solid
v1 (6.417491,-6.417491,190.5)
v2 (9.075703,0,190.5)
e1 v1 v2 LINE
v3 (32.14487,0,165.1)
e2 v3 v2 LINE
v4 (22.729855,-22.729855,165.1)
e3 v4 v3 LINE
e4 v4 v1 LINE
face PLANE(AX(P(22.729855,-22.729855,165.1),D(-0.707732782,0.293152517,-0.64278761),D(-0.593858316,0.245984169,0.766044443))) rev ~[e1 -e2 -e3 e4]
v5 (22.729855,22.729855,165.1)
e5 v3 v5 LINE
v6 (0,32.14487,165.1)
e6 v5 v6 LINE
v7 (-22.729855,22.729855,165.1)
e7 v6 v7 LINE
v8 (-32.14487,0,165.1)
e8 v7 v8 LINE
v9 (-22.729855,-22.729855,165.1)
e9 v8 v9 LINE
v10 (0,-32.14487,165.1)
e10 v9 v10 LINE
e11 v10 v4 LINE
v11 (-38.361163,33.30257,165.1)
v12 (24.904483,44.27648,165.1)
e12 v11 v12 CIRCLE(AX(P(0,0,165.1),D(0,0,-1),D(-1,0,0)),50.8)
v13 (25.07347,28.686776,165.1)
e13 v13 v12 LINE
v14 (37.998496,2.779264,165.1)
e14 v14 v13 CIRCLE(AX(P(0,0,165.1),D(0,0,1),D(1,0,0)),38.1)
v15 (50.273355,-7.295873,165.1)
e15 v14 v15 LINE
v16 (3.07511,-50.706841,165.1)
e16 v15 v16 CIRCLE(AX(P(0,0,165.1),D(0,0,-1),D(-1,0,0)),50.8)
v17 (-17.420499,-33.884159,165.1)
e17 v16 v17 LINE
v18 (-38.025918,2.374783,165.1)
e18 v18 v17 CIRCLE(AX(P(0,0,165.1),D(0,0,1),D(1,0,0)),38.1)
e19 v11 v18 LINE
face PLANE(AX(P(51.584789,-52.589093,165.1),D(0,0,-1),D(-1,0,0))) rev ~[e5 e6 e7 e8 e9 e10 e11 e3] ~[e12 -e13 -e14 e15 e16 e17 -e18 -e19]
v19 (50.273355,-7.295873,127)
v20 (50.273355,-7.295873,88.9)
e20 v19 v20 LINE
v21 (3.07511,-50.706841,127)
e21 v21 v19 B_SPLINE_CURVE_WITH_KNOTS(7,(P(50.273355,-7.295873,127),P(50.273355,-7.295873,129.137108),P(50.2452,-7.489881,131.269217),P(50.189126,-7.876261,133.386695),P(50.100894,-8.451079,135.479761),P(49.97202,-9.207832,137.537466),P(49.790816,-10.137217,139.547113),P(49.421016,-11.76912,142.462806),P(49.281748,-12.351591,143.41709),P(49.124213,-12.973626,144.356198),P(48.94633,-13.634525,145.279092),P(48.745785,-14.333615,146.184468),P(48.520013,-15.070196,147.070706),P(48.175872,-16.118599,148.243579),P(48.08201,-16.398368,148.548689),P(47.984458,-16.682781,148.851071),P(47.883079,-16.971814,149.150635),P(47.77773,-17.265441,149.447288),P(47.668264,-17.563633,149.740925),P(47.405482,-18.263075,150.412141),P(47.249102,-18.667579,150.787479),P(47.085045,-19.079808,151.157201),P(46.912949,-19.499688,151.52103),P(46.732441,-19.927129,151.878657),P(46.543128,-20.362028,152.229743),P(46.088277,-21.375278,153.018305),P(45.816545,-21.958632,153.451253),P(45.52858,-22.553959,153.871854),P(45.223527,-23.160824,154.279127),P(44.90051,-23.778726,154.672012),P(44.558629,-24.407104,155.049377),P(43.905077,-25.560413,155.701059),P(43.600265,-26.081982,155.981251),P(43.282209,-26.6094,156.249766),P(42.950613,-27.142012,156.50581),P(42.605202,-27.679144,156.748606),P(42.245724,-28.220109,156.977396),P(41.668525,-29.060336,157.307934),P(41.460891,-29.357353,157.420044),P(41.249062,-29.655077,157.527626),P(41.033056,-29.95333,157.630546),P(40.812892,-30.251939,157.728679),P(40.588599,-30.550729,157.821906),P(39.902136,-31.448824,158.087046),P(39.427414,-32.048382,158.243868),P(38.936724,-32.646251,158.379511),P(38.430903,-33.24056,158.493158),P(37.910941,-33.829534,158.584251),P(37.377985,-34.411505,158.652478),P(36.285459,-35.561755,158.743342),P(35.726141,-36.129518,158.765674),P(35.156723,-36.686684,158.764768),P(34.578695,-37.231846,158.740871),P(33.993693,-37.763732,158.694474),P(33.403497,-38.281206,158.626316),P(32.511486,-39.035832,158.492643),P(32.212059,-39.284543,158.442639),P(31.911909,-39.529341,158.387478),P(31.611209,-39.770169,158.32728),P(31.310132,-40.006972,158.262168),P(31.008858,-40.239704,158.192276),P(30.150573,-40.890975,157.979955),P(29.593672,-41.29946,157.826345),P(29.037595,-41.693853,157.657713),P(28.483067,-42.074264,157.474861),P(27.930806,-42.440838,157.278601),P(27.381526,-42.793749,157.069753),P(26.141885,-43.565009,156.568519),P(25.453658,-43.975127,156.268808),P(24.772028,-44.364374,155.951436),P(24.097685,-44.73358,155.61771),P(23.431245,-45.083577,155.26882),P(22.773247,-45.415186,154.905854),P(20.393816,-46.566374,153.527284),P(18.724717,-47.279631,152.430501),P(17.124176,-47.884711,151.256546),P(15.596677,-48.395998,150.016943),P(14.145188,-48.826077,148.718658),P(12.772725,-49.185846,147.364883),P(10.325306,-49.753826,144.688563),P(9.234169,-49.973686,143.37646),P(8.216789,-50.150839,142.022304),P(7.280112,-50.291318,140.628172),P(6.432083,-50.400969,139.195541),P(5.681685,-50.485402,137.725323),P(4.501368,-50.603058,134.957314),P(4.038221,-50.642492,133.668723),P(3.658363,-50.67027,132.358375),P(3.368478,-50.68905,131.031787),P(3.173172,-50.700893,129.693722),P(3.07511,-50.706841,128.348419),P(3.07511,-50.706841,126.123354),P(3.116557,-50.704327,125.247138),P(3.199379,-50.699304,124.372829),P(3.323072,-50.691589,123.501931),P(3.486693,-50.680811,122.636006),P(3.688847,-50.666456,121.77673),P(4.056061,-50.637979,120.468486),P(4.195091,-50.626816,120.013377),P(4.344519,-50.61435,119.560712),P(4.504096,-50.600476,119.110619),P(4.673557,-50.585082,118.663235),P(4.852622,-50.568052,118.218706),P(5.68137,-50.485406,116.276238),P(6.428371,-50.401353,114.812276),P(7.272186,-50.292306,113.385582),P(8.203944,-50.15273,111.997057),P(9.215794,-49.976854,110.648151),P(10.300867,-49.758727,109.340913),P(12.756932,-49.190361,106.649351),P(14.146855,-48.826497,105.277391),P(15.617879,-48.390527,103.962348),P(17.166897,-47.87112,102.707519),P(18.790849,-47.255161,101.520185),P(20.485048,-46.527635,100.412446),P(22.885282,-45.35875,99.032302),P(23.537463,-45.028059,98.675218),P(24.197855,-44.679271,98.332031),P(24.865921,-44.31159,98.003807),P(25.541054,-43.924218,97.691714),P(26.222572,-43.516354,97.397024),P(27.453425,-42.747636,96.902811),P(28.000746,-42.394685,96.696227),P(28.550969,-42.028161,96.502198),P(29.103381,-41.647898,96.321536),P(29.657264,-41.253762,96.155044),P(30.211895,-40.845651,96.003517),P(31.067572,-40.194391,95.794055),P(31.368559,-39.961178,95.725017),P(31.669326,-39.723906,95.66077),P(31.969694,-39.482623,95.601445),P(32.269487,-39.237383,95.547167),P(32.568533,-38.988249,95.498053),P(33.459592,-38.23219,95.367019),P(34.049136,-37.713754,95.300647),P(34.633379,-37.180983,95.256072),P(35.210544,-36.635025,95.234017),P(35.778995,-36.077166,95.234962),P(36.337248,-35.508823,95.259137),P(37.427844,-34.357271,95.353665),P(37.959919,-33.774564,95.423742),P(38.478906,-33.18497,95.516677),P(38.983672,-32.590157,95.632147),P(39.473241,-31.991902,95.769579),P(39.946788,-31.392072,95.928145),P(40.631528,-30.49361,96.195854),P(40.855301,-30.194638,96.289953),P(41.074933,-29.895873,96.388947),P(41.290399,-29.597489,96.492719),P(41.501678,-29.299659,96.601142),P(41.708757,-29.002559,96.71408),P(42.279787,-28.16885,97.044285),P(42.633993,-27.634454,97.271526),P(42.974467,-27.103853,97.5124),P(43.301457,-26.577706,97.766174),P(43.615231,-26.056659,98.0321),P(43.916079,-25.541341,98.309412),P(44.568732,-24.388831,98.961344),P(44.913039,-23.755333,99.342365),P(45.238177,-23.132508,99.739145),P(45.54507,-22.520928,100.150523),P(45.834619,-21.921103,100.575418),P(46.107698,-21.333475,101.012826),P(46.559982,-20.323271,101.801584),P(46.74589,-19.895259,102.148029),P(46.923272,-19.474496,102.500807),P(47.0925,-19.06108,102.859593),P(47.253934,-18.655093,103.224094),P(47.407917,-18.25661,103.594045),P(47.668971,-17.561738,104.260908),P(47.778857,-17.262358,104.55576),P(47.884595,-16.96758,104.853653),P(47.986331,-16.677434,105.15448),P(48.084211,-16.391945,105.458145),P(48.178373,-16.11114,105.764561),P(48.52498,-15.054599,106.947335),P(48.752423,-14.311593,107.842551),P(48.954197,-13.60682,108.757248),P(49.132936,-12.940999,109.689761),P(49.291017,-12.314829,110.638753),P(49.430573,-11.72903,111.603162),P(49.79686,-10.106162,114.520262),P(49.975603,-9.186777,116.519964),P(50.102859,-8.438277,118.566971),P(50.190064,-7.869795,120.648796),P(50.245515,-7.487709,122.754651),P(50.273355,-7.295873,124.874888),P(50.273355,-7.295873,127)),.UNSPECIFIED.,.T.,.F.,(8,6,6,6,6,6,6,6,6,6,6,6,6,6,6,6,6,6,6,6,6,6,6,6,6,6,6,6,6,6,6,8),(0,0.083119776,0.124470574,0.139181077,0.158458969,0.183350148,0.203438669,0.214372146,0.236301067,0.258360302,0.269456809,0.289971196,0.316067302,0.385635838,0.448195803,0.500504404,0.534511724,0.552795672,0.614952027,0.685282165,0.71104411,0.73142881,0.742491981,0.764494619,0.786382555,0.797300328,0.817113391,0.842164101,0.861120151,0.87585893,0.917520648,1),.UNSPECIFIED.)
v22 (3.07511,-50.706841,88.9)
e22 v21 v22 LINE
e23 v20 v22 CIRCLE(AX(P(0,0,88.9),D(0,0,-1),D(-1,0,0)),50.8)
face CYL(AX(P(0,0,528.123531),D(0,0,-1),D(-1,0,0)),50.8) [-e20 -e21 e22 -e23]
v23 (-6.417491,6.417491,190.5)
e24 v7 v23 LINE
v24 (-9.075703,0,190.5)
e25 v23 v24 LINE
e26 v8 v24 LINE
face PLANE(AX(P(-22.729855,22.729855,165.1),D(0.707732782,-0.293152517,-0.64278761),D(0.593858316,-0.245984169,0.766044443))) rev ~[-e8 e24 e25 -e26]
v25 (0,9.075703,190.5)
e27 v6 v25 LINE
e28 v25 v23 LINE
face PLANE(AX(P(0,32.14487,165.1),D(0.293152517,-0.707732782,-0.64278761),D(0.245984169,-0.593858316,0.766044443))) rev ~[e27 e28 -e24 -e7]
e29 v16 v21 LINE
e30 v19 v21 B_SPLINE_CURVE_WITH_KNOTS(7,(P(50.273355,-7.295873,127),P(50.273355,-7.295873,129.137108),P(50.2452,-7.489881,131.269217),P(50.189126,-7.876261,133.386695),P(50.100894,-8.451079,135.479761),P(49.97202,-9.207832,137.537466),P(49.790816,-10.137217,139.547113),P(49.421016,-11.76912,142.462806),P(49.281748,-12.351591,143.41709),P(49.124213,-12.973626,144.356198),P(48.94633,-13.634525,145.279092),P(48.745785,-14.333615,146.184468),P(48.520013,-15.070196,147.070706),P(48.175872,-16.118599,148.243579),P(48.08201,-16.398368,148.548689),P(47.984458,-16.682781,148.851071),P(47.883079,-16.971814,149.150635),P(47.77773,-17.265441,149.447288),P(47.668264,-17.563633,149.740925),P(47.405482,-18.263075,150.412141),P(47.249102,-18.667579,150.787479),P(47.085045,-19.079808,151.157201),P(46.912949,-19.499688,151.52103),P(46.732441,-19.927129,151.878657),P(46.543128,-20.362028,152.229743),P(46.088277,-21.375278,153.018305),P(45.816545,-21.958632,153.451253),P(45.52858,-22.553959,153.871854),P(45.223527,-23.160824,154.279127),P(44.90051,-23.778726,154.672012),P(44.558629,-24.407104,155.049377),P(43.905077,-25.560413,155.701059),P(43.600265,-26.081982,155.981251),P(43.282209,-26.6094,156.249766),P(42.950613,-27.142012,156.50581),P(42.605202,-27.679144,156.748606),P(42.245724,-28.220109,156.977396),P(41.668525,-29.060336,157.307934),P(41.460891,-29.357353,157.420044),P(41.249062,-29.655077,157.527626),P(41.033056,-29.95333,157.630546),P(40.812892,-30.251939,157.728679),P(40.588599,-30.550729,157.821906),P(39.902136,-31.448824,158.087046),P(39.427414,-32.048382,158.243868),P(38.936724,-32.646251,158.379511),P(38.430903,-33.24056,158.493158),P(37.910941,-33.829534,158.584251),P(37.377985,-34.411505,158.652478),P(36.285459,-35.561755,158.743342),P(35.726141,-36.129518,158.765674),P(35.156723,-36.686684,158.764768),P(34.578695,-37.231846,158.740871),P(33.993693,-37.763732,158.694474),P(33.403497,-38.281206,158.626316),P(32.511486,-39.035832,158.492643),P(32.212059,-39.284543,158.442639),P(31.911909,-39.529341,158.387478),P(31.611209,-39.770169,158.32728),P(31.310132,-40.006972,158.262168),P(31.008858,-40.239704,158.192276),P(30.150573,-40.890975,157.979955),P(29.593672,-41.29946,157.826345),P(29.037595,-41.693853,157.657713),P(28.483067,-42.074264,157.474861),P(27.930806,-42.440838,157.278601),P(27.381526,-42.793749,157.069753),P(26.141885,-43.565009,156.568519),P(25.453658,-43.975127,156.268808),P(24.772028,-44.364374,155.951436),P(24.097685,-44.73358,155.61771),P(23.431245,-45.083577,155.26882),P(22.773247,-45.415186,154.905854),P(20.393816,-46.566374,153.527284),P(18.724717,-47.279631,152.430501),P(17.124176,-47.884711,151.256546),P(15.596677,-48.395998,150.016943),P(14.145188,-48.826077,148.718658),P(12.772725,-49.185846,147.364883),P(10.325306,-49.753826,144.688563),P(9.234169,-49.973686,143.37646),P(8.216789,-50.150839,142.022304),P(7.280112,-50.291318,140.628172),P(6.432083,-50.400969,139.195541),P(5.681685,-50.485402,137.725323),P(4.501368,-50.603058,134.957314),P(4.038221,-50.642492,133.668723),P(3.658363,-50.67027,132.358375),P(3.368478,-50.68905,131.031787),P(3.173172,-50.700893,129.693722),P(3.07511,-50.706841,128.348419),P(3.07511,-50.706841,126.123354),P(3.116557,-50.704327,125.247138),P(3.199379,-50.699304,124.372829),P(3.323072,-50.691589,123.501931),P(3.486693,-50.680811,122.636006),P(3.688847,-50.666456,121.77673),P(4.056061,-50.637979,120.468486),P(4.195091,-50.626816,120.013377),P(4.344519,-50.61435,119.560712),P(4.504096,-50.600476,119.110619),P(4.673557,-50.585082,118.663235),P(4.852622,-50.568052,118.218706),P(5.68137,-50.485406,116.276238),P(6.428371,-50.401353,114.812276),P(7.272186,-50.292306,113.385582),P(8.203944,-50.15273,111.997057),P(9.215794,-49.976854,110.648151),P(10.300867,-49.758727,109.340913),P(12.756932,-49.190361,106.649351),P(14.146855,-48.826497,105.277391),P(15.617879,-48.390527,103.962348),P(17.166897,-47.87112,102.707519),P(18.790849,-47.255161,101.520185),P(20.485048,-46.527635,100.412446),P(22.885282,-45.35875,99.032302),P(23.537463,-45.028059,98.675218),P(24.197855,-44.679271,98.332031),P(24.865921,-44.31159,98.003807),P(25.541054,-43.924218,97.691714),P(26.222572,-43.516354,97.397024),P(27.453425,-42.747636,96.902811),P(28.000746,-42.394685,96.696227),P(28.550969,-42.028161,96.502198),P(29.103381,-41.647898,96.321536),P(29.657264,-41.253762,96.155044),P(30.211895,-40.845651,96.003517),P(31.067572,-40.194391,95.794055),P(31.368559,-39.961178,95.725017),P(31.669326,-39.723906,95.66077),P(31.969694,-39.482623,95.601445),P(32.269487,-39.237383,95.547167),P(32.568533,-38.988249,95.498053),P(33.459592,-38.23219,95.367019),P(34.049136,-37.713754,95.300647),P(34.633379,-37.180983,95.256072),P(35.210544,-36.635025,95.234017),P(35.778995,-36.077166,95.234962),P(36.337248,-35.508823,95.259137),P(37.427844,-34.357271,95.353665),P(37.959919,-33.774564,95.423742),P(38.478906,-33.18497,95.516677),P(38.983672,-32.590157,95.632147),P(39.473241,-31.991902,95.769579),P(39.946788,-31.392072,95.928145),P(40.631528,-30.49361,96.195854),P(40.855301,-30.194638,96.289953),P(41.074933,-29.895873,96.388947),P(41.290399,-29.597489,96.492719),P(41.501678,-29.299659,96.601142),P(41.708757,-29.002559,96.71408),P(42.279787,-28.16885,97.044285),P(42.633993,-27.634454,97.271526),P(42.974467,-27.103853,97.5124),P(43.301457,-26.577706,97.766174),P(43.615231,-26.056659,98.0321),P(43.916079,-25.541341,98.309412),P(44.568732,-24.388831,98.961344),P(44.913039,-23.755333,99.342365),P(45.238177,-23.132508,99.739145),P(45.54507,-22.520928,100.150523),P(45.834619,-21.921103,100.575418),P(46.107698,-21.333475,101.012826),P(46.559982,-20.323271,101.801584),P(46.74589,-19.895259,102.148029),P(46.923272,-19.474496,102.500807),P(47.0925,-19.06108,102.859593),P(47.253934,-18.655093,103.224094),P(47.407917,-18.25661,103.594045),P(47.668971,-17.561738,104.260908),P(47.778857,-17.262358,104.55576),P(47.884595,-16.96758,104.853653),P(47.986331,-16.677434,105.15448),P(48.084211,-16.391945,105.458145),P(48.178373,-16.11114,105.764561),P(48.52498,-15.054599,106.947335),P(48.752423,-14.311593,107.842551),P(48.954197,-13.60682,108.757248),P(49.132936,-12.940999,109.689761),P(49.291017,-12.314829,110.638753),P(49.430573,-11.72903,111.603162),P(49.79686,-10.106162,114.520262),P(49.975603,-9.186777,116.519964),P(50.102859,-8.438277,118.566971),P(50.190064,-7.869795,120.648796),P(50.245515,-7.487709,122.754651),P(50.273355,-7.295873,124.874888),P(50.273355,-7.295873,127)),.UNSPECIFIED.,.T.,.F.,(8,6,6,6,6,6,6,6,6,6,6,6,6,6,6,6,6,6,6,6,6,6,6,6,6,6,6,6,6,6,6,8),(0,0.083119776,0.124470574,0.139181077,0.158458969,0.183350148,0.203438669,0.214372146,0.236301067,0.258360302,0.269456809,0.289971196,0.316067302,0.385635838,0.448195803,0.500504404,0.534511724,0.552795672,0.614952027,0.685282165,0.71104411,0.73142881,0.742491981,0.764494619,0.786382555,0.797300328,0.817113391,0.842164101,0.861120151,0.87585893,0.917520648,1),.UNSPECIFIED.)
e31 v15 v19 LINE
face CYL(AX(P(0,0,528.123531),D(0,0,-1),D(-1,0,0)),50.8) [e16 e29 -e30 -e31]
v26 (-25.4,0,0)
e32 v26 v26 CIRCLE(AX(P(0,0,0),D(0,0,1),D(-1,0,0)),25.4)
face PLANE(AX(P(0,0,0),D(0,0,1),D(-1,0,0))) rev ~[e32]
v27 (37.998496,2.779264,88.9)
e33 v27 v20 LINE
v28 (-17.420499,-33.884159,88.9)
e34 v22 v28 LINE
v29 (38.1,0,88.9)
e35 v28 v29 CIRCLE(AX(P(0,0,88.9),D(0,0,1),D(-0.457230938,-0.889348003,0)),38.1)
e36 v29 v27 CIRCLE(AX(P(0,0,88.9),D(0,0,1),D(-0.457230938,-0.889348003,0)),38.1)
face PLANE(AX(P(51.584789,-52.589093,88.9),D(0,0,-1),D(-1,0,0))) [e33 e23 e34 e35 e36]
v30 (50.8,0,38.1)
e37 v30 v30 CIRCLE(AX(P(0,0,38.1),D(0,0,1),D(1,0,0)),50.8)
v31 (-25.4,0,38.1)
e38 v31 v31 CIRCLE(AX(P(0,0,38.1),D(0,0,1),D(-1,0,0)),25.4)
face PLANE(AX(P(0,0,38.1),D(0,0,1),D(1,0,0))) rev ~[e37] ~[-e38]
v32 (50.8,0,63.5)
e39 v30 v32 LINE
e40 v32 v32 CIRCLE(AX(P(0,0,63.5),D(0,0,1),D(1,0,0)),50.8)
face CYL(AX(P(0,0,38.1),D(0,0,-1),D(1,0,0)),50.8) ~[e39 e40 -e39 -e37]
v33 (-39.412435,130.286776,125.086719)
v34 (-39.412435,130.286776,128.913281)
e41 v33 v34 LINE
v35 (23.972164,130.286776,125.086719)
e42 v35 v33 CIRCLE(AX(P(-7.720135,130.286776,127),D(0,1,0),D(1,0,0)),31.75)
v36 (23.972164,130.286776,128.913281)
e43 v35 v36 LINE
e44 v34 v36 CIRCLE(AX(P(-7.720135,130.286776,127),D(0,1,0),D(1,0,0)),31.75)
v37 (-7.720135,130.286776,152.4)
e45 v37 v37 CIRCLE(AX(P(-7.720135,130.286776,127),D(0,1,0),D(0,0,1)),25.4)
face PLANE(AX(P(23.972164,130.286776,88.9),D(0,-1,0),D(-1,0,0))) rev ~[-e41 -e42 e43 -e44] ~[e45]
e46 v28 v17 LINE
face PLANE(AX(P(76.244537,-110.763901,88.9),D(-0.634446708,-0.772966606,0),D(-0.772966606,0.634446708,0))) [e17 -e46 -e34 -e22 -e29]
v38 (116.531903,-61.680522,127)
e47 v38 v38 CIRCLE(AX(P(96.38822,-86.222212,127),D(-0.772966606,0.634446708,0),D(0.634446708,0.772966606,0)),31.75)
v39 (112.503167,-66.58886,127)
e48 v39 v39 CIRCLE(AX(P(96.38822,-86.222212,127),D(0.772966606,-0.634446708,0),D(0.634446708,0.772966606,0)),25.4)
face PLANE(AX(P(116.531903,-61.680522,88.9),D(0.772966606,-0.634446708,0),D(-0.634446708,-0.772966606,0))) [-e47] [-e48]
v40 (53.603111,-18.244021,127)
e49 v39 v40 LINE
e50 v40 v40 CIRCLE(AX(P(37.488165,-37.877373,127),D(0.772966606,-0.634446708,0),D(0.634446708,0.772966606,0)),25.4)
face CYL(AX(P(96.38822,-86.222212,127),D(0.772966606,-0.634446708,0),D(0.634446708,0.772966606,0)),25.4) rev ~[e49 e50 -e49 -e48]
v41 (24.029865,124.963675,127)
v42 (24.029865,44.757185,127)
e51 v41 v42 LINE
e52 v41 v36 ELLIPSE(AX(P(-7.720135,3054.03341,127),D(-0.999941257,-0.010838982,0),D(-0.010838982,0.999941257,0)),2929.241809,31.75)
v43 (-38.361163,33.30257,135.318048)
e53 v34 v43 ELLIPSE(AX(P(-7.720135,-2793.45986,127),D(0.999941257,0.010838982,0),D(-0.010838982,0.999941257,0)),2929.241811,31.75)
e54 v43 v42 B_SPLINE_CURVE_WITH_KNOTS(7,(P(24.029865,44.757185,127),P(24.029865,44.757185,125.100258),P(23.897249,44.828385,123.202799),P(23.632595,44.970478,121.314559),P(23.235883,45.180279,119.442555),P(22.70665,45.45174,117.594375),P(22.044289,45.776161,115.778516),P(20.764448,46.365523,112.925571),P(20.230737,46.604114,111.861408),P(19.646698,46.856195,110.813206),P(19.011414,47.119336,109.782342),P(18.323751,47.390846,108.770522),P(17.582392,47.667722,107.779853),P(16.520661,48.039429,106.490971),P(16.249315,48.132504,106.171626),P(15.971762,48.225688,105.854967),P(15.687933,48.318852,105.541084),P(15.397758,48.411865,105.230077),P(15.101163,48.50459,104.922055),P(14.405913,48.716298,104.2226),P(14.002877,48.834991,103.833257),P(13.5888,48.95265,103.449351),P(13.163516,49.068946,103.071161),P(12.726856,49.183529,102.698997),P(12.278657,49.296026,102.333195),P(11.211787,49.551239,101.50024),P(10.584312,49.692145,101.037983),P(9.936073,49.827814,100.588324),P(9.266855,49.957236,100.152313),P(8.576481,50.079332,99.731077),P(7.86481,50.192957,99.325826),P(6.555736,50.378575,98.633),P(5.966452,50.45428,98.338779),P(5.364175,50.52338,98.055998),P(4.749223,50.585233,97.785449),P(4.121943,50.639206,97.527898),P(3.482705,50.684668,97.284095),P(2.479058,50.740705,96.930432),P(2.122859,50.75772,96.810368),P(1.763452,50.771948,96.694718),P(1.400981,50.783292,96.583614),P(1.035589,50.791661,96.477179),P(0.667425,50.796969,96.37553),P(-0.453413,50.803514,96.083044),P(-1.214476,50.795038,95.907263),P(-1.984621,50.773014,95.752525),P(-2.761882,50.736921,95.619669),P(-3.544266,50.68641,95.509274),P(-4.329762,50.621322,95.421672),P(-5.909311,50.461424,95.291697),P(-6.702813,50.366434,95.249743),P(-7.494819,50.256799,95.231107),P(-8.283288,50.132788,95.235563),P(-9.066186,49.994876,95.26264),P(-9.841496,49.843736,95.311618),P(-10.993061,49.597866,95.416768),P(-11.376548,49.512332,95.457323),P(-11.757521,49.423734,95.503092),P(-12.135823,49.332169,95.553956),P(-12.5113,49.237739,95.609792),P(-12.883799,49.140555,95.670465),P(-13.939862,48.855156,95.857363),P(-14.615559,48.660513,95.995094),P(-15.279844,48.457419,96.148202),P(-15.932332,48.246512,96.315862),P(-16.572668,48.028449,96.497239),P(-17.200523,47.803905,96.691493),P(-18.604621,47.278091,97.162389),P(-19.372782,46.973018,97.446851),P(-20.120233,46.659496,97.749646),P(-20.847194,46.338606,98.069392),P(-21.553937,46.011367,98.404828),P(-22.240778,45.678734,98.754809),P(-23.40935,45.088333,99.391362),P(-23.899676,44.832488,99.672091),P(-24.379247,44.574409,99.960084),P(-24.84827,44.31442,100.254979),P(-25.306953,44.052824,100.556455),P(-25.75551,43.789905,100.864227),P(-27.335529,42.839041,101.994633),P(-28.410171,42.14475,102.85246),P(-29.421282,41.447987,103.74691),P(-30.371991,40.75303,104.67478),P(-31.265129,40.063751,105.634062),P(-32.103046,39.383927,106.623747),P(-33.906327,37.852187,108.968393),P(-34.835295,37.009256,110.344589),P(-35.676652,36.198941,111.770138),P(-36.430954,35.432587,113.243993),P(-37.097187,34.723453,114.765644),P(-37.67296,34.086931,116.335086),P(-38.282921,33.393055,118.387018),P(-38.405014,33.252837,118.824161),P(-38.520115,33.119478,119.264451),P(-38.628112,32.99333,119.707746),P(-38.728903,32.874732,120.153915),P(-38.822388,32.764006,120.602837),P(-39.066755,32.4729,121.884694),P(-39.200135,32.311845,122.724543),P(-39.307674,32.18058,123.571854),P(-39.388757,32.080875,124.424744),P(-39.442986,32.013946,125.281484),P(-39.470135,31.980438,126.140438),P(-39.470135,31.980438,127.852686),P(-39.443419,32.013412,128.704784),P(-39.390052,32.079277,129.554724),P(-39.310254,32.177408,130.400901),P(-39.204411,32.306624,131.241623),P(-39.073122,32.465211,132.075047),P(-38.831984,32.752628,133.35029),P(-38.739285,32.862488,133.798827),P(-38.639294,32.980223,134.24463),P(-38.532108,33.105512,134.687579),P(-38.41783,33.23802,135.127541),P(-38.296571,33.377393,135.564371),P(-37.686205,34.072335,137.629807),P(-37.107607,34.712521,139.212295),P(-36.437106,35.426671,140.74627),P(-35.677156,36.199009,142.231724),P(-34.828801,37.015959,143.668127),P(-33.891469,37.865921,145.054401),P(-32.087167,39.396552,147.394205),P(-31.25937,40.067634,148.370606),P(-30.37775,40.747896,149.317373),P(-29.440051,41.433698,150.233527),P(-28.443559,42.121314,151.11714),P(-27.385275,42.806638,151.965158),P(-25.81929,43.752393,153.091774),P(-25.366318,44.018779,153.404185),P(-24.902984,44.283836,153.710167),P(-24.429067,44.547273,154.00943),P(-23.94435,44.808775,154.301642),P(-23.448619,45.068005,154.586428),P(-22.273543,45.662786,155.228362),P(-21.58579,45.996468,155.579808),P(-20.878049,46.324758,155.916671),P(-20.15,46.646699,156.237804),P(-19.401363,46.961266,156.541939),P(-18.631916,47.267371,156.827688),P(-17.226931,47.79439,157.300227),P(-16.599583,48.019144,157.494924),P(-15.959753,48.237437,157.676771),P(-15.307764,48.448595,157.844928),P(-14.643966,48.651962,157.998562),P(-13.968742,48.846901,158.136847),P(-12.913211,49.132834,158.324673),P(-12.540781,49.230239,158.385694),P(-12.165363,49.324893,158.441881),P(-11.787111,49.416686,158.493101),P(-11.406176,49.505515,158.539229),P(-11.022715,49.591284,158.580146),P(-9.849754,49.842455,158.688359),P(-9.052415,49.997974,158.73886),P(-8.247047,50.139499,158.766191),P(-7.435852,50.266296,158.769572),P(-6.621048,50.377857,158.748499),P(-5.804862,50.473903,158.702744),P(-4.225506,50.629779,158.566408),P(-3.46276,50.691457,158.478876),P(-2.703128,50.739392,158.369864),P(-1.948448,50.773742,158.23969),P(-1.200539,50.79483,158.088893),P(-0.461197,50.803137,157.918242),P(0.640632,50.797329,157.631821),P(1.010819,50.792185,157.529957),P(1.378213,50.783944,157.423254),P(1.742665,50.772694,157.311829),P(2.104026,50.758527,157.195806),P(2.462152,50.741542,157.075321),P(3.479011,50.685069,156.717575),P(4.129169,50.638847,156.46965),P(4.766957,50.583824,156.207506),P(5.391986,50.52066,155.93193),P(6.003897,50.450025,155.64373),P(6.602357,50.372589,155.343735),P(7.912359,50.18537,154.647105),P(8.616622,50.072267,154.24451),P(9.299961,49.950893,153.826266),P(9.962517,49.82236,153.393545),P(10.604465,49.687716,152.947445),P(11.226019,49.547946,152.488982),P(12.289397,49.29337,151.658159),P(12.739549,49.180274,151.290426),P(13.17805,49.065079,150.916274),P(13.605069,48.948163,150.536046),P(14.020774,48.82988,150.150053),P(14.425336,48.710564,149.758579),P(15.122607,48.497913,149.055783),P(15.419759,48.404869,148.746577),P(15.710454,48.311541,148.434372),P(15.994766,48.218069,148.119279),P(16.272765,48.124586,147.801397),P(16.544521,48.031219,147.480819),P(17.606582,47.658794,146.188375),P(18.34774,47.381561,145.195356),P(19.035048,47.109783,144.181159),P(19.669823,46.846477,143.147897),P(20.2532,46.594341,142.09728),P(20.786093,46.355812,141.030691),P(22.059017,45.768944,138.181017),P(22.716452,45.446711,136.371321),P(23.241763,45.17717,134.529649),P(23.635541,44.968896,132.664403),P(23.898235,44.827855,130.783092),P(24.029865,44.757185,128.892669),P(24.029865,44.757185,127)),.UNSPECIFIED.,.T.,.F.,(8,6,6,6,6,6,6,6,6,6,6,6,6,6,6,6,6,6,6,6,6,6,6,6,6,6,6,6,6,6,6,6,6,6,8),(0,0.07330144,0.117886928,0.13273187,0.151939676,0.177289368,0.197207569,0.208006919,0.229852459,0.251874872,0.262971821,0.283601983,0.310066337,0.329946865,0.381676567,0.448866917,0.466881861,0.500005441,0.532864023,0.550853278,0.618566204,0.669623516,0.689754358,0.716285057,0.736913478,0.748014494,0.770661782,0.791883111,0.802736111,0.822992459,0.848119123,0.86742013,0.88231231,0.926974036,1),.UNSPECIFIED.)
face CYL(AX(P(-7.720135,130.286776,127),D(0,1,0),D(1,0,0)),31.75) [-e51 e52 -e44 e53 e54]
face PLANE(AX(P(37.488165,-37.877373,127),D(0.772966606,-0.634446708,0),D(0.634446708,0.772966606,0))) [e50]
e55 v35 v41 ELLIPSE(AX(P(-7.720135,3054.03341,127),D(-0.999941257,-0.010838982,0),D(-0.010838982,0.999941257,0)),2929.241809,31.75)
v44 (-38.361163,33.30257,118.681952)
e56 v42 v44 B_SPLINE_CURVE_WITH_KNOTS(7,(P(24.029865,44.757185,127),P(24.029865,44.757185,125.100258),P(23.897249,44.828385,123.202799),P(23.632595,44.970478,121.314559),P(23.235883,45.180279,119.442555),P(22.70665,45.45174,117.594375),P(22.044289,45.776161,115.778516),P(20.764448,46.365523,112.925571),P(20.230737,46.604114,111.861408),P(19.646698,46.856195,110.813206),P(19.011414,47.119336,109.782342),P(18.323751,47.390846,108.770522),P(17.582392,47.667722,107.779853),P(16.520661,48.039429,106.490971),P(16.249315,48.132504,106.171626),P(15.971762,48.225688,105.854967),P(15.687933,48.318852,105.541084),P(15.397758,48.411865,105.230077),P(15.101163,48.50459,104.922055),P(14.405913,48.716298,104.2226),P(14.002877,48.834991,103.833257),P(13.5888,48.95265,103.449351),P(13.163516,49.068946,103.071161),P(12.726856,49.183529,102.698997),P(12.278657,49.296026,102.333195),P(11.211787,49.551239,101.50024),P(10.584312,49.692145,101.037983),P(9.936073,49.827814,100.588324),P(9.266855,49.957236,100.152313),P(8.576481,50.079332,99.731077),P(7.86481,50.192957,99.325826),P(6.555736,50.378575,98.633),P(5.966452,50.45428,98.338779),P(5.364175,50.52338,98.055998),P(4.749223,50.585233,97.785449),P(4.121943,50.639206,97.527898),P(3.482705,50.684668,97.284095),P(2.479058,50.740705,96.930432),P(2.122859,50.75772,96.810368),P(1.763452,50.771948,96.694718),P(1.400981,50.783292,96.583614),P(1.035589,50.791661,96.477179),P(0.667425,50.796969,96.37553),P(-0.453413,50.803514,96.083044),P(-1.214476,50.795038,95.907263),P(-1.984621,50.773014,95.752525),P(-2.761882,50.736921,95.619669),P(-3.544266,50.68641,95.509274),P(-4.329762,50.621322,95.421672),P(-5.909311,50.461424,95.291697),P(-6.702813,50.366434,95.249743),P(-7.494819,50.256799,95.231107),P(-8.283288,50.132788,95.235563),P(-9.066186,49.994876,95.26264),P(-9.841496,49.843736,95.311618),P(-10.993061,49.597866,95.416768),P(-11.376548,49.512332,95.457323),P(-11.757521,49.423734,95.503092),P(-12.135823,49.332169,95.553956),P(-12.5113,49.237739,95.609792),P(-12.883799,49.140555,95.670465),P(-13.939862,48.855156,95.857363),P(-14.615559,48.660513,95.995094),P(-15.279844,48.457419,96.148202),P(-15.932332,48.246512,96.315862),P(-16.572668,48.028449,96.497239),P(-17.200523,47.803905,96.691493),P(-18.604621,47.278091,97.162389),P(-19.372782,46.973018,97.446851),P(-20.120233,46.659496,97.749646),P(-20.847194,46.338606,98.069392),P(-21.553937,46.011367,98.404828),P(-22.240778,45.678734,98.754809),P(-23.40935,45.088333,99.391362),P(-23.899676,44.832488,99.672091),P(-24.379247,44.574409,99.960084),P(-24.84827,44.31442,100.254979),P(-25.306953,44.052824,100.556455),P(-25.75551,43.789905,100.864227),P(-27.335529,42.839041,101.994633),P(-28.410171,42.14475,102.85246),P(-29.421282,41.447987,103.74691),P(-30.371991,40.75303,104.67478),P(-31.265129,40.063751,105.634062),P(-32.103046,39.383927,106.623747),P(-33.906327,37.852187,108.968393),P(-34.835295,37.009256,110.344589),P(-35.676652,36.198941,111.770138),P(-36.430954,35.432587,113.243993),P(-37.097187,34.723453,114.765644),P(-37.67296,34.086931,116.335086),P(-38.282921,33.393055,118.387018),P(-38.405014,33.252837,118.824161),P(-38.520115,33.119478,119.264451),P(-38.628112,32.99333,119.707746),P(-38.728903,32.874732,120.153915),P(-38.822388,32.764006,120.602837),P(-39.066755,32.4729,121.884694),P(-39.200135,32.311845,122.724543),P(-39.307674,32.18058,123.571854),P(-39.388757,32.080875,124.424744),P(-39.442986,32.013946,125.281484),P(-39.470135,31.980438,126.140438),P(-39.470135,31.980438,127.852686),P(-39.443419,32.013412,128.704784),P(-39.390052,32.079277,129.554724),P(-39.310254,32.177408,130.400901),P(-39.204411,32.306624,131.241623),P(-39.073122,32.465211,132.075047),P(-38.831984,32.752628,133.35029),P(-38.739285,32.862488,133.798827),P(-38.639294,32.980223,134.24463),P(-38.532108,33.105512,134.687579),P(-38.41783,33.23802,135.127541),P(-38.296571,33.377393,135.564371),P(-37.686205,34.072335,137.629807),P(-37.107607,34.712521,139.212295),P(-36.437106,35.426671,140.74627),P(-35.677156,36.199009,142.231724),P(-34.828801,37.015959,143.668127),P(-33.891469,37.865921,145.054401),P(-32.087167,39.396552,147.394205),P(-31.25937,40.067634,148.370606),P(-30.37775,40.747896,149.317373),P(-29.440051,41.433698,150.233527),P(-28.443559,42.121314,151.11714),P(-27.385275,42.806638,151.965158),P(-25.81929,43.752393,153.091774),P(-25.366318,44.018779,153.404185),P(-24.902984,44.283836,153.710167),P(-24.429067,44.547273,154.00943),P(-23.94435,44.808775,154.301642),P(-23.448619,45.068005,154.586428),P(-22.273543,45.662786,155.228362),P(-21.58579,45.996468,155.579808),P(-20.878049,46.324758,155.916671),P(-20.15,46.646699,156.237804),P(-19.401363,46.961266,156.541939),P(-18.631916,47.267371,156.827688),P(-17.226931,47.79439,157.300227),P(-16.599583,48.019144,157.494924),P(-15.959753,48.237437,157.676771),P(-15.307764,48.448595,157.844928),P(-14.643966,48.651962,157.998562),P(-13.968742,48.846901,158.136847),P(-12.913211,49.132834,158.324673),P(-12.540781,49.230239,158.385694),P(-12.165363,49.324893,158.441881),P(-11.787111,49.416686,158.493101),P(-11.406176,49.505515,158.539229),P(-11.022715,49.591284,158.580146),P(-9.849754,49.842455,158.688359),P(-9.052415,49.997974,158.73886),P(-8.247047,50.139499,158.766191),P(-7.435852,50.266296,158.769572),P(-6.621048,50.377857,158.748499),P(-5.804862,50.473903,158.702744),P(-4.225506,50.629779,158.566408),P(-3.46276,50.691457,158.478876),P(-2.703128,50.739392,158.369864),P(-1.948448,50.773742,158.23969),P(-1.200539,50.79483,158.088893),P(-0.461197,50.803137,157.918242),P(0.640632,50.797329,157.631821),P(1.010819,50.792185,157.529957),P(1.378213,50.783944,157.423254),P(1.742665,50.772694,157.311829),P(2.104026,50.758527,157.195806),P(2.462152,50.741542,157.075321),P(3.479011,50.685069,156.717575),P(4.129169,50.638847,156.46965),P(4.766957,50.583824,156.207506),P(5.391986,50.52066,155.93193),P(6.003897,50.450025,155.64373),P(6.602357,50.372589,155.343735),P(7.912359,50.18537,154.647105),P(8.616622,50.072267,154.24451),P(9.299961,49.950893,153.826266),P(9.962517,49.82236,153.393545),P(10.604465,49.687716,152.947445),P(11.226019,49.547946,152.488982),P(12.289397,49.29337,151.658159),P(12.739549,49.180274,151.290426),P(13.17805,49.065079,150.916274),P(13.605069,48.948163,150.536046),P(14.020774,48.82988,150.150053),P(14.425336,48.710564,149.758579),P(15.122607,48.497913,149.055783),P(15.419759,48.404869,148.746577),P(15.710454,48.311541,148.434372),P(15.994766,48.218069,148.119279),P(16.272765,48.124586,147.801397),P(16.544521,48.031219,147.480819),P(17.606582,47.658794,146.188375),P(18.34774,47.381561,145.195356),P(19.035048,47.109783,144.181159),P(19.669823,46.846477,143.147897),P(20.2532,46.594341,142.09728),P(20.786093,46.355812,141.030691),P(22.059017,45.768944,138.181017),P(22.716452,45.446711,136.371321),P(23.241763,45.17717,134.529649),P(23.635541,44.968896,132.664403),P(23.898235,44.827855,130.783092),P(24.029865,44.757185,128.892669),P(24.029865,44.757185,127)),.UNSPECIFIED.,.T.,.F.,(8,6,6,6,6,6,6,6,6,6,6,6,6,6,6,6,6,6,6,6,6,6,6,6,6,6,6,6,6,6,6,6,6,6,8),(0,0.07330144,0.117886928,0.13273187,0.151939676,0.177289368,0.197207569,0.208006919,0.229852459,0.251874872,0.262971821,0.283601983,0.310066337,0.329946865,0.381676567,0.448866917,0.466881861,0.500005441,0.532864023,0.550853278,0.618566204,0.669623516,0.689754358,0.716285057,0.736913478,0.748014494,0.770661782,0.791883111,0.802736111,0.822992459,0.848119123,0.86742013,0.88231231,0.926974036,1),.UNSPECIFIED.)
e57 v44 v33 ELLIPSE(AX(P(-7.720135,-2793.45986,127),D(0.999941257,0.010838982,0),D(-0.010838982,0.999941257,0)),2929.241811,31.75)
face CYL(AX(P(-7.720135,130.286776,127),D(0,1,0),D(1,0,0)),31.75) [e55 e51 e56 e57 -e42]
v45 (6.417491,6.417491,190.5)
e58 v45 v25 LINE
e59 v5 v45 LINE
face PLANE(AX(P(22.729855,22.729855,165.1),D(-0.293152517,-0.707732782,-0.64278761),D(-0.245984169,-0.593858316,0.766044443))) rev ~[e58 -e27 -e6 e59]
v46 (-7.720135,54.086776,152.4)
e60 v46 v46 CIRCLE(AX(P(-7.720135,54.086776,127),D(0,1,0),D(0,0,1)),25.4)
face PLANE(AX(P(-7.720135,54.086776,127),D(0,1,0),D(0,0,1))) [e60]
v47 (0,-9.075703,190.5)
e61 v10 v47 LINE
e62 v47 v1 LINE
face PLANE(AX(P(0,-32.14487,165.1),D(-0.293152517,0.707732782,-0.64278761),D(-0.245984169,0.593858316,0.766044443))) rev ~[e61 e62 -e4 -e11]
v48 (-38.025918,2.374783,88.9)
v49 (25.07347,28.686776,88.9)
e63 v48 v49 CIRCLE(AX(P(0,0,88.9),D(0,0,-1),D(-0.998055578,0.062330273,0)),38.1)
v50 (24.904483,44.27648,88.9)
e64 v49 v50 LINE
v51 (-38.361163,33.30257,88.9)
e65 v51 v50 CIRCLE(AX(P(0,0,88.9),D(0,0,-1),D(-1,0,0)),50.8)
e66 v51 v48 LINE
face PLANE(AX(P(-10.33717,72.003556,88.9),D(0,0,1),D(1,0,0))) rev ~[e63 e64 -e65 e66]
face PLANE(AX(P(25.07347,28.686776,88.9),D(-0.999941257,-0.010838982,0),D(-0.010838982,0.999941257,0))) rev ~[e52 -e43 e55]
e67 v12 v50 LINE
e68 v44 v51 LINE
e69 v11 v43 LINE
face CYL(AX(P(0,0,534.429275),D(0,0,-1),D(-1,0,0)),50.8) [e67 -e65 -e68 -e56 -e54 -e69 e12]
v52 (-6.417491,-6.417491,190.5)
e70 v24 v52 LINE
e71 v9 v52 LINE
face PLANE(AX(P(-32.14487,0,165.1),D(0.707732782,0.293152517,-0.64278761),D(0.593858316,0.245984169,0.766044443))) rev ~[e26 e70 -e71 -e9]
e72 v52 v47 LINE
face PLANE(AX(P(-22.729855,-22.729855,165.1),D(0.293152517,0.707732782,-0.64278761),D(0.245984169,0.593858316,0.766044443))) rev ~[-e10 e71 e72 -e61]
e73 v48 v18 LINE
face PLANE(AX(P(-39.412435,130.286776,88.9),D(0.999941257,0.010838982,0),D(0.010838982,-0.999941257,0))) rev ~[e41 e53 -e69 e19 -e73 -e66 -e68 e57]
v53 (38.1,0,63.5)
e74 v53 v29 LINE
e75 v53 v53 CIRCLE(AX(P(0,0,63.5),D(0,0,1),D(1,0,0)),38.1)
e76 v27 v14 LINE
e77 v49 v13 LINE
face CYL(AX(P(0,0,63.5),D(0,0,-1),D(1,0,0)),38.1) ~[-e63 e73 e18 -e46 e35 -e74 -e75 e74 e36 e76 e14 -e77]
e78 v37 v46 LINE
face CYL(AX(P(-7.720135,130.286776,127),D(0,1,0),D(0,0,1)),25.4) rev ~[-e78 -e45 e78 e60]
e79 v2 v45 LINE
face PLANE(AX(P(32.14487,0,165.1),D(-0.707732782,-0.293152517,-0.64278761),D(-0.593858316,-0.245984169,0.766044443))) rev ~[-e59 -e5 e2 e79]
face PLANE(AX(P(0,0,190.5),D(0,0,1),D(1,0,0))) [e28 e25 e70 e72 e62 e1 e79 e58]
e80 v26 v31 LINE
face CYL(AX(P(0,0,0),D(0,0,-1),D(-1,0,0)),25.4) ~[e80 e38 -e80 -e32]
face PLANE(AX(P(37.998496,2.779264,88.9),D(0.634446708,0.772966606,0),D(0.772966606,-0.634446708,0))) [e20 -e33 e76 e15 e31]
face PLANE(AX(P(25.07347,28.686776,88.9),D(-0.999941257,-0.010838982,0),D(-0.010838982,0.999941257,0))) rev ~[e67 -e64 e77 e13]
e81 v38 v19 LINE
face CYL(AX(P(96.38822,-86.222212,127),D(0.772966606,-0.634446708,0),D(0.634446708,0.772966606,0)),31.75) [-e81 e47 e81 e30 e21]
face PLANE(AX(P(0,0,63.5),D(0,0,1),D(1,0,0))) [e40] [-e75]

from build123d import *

# Parameters (mm, degrees)
SKETCH1_R               = 25.4
BOSS_EXTRUDE1_DEPTH     = 38.1
SKETCH2_R               = 50.8
BOSS_EXTRUDE2_DEPTH     = 25.4
SKETCH3_R               = 38.1
BOSS_EXTRUDE3_DEPTH     = 101.6
BOSS_EXTRUDE4_START     = -76.2
BOSS_EXTRUDE4_DEPTH     = 76.2
CUT_EXTRUDE1_REACH      = 316.552
CUT_EXTRUDE1_END_RADIUS = 50.8
SKETCH5_W               = 68.464599232
SKETCH5_H               = 81.28
SKETCH5_R               = 31.75
CUT_EXTRUDE2_REACH      = 310.247
CUT_EXTRUDE2_END_RADIUS = 50.8
SKETCH6_W               = 81.28
SKETCH6_H               = 68.58
SKETCH6_R               = 31.75
SKETCH7_R               = 25.4
CUT_EXTRUDE3_DEPTH      = 76.2
SKETCH8_R               = 25.4
CUT_EXTRUDE4_DEPTH      = 76.2
BOSS_EXTRUDE5_DEPTH     = 25.4
BOSS_EXTRUDE5_TAPER     = 40


with BuildPart() as part:
    # Sketch1 → Boss-Extrude1 (new body)
    with BuildSketch(Plane.XY):
        with Locations(Location((0, 0, 0), (0, 0, 180))):
            Circle(SKETCH1_R)
    extrude(amount=BOSS_EXTRUDE1_DEPTH)

    # Sketch2 → Boss-Extrude2 (add)
    with BuildSketch(Plane.XY.offset(38.1)):
        Circle(SKETCH2_R)
    extrude(amount=BOSS_EXTRUDE2_DEPTH)

    # Sketch3 → Boss-Extrude3 (add)
    with BuildSketch(Plane.XY.offset(63.5)):
        Circle(SKETCH3_R)
    extrude(amount=BOSS_EXTRUDE3_DEPTH)

    # Sketch4 → Boss-Extrude4 (add)
    with BuildSketch(Plane.XY.offset(165.1).offset(BOSS_EXTRUDE4_START)):
        with BuildLine():
            Line((37.998495941, 2.779263607), (116.531903161, -61.680521923))
            Line((116.531903161, -61.680521923), (76.244537205, -110.763901435))
            Line((76.244537205, -110.763901435), (-17.420498723, -33.884158898))
            ThreePointArc((-17.420498723, -33.884158898), (21.021777513, -31.775696219), (37.998495941, 2.779263607))
        make_face()
        with BuildLine():
            Line((25.073469731, 28.686775972), (23.972164439, 130.286775972))
            Line((23.972164439, 130.286775972), (-39.412434793, 130.286775972))
            Line((-39.412434793, 130.286775972), (-38.025917527, 2.374783413))
            ThreePointArc((-38.025917527, 2.374783413), (-14.663618724, 35.165157271), (25.073469731, 28.686775972))
        make_face()
    extrude(amount=BOSS_EXTRUDE4_DEPTH)

    # Cut-Extrude1: up to this cylinder (the profile starts outside it)
    cut_extrude1_end = Plane(origin=(0, 0, 166.577275), z_dir=(0, 0, -1)) * Cylinder(CUT_EXTRUDE1_END_RADIUS, 735.704, mode=Mode.PRIVATE)
    # Sketch5 → Cut-Extrude1 (cut, up to the surface)
    with BuildSketch(Plane(origin=(0, 130.286775972, 0), x_dir=(1, 0, 0), z_dir=(0, 1, 0)), mode=Mode.PRIVATE) as cut_extrude1_sk1:
        with Locations((-7.720135177, -127)):
            Rectangle(SKETCH5_W, SKETCH5_H)
        with Locations((-7.720135177, -127)):
            Circle(SKETCH5_R, mode=Mode.SUBTRACT)
    cut_extrude1_tool1 = extrude(cut_extrude1_sk1.sketch, amount=-CUT_EXTRUDE1_REACH, mode=Mode.PRIVATE) - cut_extrude1_end
    add(cut_extrude1_tool1.solids().sort_by_distance((-7.720135, 130.286776, 166.577275))[0], mode=Mode.SUBTRACT)

    # Cut-Extrude2: up to this cylinder (the profile starts outside it)
    cut_extrude2_end = Plane(origin=(0, 0, 166.576531), z_dir=(0, 0, -1)) * Cylinder(CUT_EXTRUDE2_END_RADIUS, 723.094, mode=Mode.PRIVATE)
    # Sketch6 → Cut-Extrude2 (cut, up to the surface)
    with BuildSketch(Plane(origin=(99.87368094, -81.975763963, 0), x_dir=(0, 0, -1), z_dir=(0.7729666064892688, -0.6344467079688128, 0)), mode=Mode.PRIVATE) as cut_extrude2_sk1:
        with Locations((-127, -5.493701383)):
            Rectangle(SKETCH6_W, SKETCH6_H)
        with Locations(Location((-127, -5.493701383, 0), (0, 0, 90))):
            Circle(SKETCH6_R, mode=Mode.SUBTRACT)
    cut_extrude2_tool1 = extrude(cut_extrude2_sk1.sketch, amount=-CUT_EXTRUDE2_REACH, mode=Mode.PRIVATE) - cut_extrude2_end
    add(cut_extrude2_tool1.solids().sort_by_distance((96.38822, -86.222212, 166.576531))[0], mode=Mode.SUBTRACT)

    # Sketch7 → Cut-Extrude3 (cut)
    with BuildSketch(Plane(origin=(99.87368094, -81.975763963, 0), x_dir=(0, 0, -1), z_dir=(0.7729666064892688, -0.6344467079688128, 0))):
        with Locations(Location((-127, -5.493701383, 0), (0, 0, 90))):
            Circle(SKETCH7_R)
    extrude(amount=-CUT_EXTRUDE3_DEPTH, mode=Mode.SUBTRACT)

    # Sketch8 → Cut-Extrude4 (cut)
    with BuildSketch(Plane(origin=(0, 130.286775972, 0), x_dir=(1, 0, 0), z_dir=(0, 1, 0))):
        with Locations(Location((-7.720135177, -127, 0), (0, 0, 270))):
            Circle(SKETCH8_R)
    extrude(amount=-CUT_EXTRUDE4_DEPTH, mode=Mode.SUBTRACT)

    # Sketch10 → Boss-Extrude5 (add)
    with BuildSketch(Plane.XY.offset(165.1)):
        Polygon((32.144869663, 0), (22.729855319, 22.729855319), (0, 32.144869663), (-22.729855319, 22.729855319), (-32.144869663, 0), (-22.729855319, -22.729855319), (0, -32.144869663), (22.729855319, -22.729855319), align=None)
    extrude(amount=BOSS_EXTRUDE5_DEPTH, taper=BOSS_EXTRUDE5_TAPER)


solid = part.part
